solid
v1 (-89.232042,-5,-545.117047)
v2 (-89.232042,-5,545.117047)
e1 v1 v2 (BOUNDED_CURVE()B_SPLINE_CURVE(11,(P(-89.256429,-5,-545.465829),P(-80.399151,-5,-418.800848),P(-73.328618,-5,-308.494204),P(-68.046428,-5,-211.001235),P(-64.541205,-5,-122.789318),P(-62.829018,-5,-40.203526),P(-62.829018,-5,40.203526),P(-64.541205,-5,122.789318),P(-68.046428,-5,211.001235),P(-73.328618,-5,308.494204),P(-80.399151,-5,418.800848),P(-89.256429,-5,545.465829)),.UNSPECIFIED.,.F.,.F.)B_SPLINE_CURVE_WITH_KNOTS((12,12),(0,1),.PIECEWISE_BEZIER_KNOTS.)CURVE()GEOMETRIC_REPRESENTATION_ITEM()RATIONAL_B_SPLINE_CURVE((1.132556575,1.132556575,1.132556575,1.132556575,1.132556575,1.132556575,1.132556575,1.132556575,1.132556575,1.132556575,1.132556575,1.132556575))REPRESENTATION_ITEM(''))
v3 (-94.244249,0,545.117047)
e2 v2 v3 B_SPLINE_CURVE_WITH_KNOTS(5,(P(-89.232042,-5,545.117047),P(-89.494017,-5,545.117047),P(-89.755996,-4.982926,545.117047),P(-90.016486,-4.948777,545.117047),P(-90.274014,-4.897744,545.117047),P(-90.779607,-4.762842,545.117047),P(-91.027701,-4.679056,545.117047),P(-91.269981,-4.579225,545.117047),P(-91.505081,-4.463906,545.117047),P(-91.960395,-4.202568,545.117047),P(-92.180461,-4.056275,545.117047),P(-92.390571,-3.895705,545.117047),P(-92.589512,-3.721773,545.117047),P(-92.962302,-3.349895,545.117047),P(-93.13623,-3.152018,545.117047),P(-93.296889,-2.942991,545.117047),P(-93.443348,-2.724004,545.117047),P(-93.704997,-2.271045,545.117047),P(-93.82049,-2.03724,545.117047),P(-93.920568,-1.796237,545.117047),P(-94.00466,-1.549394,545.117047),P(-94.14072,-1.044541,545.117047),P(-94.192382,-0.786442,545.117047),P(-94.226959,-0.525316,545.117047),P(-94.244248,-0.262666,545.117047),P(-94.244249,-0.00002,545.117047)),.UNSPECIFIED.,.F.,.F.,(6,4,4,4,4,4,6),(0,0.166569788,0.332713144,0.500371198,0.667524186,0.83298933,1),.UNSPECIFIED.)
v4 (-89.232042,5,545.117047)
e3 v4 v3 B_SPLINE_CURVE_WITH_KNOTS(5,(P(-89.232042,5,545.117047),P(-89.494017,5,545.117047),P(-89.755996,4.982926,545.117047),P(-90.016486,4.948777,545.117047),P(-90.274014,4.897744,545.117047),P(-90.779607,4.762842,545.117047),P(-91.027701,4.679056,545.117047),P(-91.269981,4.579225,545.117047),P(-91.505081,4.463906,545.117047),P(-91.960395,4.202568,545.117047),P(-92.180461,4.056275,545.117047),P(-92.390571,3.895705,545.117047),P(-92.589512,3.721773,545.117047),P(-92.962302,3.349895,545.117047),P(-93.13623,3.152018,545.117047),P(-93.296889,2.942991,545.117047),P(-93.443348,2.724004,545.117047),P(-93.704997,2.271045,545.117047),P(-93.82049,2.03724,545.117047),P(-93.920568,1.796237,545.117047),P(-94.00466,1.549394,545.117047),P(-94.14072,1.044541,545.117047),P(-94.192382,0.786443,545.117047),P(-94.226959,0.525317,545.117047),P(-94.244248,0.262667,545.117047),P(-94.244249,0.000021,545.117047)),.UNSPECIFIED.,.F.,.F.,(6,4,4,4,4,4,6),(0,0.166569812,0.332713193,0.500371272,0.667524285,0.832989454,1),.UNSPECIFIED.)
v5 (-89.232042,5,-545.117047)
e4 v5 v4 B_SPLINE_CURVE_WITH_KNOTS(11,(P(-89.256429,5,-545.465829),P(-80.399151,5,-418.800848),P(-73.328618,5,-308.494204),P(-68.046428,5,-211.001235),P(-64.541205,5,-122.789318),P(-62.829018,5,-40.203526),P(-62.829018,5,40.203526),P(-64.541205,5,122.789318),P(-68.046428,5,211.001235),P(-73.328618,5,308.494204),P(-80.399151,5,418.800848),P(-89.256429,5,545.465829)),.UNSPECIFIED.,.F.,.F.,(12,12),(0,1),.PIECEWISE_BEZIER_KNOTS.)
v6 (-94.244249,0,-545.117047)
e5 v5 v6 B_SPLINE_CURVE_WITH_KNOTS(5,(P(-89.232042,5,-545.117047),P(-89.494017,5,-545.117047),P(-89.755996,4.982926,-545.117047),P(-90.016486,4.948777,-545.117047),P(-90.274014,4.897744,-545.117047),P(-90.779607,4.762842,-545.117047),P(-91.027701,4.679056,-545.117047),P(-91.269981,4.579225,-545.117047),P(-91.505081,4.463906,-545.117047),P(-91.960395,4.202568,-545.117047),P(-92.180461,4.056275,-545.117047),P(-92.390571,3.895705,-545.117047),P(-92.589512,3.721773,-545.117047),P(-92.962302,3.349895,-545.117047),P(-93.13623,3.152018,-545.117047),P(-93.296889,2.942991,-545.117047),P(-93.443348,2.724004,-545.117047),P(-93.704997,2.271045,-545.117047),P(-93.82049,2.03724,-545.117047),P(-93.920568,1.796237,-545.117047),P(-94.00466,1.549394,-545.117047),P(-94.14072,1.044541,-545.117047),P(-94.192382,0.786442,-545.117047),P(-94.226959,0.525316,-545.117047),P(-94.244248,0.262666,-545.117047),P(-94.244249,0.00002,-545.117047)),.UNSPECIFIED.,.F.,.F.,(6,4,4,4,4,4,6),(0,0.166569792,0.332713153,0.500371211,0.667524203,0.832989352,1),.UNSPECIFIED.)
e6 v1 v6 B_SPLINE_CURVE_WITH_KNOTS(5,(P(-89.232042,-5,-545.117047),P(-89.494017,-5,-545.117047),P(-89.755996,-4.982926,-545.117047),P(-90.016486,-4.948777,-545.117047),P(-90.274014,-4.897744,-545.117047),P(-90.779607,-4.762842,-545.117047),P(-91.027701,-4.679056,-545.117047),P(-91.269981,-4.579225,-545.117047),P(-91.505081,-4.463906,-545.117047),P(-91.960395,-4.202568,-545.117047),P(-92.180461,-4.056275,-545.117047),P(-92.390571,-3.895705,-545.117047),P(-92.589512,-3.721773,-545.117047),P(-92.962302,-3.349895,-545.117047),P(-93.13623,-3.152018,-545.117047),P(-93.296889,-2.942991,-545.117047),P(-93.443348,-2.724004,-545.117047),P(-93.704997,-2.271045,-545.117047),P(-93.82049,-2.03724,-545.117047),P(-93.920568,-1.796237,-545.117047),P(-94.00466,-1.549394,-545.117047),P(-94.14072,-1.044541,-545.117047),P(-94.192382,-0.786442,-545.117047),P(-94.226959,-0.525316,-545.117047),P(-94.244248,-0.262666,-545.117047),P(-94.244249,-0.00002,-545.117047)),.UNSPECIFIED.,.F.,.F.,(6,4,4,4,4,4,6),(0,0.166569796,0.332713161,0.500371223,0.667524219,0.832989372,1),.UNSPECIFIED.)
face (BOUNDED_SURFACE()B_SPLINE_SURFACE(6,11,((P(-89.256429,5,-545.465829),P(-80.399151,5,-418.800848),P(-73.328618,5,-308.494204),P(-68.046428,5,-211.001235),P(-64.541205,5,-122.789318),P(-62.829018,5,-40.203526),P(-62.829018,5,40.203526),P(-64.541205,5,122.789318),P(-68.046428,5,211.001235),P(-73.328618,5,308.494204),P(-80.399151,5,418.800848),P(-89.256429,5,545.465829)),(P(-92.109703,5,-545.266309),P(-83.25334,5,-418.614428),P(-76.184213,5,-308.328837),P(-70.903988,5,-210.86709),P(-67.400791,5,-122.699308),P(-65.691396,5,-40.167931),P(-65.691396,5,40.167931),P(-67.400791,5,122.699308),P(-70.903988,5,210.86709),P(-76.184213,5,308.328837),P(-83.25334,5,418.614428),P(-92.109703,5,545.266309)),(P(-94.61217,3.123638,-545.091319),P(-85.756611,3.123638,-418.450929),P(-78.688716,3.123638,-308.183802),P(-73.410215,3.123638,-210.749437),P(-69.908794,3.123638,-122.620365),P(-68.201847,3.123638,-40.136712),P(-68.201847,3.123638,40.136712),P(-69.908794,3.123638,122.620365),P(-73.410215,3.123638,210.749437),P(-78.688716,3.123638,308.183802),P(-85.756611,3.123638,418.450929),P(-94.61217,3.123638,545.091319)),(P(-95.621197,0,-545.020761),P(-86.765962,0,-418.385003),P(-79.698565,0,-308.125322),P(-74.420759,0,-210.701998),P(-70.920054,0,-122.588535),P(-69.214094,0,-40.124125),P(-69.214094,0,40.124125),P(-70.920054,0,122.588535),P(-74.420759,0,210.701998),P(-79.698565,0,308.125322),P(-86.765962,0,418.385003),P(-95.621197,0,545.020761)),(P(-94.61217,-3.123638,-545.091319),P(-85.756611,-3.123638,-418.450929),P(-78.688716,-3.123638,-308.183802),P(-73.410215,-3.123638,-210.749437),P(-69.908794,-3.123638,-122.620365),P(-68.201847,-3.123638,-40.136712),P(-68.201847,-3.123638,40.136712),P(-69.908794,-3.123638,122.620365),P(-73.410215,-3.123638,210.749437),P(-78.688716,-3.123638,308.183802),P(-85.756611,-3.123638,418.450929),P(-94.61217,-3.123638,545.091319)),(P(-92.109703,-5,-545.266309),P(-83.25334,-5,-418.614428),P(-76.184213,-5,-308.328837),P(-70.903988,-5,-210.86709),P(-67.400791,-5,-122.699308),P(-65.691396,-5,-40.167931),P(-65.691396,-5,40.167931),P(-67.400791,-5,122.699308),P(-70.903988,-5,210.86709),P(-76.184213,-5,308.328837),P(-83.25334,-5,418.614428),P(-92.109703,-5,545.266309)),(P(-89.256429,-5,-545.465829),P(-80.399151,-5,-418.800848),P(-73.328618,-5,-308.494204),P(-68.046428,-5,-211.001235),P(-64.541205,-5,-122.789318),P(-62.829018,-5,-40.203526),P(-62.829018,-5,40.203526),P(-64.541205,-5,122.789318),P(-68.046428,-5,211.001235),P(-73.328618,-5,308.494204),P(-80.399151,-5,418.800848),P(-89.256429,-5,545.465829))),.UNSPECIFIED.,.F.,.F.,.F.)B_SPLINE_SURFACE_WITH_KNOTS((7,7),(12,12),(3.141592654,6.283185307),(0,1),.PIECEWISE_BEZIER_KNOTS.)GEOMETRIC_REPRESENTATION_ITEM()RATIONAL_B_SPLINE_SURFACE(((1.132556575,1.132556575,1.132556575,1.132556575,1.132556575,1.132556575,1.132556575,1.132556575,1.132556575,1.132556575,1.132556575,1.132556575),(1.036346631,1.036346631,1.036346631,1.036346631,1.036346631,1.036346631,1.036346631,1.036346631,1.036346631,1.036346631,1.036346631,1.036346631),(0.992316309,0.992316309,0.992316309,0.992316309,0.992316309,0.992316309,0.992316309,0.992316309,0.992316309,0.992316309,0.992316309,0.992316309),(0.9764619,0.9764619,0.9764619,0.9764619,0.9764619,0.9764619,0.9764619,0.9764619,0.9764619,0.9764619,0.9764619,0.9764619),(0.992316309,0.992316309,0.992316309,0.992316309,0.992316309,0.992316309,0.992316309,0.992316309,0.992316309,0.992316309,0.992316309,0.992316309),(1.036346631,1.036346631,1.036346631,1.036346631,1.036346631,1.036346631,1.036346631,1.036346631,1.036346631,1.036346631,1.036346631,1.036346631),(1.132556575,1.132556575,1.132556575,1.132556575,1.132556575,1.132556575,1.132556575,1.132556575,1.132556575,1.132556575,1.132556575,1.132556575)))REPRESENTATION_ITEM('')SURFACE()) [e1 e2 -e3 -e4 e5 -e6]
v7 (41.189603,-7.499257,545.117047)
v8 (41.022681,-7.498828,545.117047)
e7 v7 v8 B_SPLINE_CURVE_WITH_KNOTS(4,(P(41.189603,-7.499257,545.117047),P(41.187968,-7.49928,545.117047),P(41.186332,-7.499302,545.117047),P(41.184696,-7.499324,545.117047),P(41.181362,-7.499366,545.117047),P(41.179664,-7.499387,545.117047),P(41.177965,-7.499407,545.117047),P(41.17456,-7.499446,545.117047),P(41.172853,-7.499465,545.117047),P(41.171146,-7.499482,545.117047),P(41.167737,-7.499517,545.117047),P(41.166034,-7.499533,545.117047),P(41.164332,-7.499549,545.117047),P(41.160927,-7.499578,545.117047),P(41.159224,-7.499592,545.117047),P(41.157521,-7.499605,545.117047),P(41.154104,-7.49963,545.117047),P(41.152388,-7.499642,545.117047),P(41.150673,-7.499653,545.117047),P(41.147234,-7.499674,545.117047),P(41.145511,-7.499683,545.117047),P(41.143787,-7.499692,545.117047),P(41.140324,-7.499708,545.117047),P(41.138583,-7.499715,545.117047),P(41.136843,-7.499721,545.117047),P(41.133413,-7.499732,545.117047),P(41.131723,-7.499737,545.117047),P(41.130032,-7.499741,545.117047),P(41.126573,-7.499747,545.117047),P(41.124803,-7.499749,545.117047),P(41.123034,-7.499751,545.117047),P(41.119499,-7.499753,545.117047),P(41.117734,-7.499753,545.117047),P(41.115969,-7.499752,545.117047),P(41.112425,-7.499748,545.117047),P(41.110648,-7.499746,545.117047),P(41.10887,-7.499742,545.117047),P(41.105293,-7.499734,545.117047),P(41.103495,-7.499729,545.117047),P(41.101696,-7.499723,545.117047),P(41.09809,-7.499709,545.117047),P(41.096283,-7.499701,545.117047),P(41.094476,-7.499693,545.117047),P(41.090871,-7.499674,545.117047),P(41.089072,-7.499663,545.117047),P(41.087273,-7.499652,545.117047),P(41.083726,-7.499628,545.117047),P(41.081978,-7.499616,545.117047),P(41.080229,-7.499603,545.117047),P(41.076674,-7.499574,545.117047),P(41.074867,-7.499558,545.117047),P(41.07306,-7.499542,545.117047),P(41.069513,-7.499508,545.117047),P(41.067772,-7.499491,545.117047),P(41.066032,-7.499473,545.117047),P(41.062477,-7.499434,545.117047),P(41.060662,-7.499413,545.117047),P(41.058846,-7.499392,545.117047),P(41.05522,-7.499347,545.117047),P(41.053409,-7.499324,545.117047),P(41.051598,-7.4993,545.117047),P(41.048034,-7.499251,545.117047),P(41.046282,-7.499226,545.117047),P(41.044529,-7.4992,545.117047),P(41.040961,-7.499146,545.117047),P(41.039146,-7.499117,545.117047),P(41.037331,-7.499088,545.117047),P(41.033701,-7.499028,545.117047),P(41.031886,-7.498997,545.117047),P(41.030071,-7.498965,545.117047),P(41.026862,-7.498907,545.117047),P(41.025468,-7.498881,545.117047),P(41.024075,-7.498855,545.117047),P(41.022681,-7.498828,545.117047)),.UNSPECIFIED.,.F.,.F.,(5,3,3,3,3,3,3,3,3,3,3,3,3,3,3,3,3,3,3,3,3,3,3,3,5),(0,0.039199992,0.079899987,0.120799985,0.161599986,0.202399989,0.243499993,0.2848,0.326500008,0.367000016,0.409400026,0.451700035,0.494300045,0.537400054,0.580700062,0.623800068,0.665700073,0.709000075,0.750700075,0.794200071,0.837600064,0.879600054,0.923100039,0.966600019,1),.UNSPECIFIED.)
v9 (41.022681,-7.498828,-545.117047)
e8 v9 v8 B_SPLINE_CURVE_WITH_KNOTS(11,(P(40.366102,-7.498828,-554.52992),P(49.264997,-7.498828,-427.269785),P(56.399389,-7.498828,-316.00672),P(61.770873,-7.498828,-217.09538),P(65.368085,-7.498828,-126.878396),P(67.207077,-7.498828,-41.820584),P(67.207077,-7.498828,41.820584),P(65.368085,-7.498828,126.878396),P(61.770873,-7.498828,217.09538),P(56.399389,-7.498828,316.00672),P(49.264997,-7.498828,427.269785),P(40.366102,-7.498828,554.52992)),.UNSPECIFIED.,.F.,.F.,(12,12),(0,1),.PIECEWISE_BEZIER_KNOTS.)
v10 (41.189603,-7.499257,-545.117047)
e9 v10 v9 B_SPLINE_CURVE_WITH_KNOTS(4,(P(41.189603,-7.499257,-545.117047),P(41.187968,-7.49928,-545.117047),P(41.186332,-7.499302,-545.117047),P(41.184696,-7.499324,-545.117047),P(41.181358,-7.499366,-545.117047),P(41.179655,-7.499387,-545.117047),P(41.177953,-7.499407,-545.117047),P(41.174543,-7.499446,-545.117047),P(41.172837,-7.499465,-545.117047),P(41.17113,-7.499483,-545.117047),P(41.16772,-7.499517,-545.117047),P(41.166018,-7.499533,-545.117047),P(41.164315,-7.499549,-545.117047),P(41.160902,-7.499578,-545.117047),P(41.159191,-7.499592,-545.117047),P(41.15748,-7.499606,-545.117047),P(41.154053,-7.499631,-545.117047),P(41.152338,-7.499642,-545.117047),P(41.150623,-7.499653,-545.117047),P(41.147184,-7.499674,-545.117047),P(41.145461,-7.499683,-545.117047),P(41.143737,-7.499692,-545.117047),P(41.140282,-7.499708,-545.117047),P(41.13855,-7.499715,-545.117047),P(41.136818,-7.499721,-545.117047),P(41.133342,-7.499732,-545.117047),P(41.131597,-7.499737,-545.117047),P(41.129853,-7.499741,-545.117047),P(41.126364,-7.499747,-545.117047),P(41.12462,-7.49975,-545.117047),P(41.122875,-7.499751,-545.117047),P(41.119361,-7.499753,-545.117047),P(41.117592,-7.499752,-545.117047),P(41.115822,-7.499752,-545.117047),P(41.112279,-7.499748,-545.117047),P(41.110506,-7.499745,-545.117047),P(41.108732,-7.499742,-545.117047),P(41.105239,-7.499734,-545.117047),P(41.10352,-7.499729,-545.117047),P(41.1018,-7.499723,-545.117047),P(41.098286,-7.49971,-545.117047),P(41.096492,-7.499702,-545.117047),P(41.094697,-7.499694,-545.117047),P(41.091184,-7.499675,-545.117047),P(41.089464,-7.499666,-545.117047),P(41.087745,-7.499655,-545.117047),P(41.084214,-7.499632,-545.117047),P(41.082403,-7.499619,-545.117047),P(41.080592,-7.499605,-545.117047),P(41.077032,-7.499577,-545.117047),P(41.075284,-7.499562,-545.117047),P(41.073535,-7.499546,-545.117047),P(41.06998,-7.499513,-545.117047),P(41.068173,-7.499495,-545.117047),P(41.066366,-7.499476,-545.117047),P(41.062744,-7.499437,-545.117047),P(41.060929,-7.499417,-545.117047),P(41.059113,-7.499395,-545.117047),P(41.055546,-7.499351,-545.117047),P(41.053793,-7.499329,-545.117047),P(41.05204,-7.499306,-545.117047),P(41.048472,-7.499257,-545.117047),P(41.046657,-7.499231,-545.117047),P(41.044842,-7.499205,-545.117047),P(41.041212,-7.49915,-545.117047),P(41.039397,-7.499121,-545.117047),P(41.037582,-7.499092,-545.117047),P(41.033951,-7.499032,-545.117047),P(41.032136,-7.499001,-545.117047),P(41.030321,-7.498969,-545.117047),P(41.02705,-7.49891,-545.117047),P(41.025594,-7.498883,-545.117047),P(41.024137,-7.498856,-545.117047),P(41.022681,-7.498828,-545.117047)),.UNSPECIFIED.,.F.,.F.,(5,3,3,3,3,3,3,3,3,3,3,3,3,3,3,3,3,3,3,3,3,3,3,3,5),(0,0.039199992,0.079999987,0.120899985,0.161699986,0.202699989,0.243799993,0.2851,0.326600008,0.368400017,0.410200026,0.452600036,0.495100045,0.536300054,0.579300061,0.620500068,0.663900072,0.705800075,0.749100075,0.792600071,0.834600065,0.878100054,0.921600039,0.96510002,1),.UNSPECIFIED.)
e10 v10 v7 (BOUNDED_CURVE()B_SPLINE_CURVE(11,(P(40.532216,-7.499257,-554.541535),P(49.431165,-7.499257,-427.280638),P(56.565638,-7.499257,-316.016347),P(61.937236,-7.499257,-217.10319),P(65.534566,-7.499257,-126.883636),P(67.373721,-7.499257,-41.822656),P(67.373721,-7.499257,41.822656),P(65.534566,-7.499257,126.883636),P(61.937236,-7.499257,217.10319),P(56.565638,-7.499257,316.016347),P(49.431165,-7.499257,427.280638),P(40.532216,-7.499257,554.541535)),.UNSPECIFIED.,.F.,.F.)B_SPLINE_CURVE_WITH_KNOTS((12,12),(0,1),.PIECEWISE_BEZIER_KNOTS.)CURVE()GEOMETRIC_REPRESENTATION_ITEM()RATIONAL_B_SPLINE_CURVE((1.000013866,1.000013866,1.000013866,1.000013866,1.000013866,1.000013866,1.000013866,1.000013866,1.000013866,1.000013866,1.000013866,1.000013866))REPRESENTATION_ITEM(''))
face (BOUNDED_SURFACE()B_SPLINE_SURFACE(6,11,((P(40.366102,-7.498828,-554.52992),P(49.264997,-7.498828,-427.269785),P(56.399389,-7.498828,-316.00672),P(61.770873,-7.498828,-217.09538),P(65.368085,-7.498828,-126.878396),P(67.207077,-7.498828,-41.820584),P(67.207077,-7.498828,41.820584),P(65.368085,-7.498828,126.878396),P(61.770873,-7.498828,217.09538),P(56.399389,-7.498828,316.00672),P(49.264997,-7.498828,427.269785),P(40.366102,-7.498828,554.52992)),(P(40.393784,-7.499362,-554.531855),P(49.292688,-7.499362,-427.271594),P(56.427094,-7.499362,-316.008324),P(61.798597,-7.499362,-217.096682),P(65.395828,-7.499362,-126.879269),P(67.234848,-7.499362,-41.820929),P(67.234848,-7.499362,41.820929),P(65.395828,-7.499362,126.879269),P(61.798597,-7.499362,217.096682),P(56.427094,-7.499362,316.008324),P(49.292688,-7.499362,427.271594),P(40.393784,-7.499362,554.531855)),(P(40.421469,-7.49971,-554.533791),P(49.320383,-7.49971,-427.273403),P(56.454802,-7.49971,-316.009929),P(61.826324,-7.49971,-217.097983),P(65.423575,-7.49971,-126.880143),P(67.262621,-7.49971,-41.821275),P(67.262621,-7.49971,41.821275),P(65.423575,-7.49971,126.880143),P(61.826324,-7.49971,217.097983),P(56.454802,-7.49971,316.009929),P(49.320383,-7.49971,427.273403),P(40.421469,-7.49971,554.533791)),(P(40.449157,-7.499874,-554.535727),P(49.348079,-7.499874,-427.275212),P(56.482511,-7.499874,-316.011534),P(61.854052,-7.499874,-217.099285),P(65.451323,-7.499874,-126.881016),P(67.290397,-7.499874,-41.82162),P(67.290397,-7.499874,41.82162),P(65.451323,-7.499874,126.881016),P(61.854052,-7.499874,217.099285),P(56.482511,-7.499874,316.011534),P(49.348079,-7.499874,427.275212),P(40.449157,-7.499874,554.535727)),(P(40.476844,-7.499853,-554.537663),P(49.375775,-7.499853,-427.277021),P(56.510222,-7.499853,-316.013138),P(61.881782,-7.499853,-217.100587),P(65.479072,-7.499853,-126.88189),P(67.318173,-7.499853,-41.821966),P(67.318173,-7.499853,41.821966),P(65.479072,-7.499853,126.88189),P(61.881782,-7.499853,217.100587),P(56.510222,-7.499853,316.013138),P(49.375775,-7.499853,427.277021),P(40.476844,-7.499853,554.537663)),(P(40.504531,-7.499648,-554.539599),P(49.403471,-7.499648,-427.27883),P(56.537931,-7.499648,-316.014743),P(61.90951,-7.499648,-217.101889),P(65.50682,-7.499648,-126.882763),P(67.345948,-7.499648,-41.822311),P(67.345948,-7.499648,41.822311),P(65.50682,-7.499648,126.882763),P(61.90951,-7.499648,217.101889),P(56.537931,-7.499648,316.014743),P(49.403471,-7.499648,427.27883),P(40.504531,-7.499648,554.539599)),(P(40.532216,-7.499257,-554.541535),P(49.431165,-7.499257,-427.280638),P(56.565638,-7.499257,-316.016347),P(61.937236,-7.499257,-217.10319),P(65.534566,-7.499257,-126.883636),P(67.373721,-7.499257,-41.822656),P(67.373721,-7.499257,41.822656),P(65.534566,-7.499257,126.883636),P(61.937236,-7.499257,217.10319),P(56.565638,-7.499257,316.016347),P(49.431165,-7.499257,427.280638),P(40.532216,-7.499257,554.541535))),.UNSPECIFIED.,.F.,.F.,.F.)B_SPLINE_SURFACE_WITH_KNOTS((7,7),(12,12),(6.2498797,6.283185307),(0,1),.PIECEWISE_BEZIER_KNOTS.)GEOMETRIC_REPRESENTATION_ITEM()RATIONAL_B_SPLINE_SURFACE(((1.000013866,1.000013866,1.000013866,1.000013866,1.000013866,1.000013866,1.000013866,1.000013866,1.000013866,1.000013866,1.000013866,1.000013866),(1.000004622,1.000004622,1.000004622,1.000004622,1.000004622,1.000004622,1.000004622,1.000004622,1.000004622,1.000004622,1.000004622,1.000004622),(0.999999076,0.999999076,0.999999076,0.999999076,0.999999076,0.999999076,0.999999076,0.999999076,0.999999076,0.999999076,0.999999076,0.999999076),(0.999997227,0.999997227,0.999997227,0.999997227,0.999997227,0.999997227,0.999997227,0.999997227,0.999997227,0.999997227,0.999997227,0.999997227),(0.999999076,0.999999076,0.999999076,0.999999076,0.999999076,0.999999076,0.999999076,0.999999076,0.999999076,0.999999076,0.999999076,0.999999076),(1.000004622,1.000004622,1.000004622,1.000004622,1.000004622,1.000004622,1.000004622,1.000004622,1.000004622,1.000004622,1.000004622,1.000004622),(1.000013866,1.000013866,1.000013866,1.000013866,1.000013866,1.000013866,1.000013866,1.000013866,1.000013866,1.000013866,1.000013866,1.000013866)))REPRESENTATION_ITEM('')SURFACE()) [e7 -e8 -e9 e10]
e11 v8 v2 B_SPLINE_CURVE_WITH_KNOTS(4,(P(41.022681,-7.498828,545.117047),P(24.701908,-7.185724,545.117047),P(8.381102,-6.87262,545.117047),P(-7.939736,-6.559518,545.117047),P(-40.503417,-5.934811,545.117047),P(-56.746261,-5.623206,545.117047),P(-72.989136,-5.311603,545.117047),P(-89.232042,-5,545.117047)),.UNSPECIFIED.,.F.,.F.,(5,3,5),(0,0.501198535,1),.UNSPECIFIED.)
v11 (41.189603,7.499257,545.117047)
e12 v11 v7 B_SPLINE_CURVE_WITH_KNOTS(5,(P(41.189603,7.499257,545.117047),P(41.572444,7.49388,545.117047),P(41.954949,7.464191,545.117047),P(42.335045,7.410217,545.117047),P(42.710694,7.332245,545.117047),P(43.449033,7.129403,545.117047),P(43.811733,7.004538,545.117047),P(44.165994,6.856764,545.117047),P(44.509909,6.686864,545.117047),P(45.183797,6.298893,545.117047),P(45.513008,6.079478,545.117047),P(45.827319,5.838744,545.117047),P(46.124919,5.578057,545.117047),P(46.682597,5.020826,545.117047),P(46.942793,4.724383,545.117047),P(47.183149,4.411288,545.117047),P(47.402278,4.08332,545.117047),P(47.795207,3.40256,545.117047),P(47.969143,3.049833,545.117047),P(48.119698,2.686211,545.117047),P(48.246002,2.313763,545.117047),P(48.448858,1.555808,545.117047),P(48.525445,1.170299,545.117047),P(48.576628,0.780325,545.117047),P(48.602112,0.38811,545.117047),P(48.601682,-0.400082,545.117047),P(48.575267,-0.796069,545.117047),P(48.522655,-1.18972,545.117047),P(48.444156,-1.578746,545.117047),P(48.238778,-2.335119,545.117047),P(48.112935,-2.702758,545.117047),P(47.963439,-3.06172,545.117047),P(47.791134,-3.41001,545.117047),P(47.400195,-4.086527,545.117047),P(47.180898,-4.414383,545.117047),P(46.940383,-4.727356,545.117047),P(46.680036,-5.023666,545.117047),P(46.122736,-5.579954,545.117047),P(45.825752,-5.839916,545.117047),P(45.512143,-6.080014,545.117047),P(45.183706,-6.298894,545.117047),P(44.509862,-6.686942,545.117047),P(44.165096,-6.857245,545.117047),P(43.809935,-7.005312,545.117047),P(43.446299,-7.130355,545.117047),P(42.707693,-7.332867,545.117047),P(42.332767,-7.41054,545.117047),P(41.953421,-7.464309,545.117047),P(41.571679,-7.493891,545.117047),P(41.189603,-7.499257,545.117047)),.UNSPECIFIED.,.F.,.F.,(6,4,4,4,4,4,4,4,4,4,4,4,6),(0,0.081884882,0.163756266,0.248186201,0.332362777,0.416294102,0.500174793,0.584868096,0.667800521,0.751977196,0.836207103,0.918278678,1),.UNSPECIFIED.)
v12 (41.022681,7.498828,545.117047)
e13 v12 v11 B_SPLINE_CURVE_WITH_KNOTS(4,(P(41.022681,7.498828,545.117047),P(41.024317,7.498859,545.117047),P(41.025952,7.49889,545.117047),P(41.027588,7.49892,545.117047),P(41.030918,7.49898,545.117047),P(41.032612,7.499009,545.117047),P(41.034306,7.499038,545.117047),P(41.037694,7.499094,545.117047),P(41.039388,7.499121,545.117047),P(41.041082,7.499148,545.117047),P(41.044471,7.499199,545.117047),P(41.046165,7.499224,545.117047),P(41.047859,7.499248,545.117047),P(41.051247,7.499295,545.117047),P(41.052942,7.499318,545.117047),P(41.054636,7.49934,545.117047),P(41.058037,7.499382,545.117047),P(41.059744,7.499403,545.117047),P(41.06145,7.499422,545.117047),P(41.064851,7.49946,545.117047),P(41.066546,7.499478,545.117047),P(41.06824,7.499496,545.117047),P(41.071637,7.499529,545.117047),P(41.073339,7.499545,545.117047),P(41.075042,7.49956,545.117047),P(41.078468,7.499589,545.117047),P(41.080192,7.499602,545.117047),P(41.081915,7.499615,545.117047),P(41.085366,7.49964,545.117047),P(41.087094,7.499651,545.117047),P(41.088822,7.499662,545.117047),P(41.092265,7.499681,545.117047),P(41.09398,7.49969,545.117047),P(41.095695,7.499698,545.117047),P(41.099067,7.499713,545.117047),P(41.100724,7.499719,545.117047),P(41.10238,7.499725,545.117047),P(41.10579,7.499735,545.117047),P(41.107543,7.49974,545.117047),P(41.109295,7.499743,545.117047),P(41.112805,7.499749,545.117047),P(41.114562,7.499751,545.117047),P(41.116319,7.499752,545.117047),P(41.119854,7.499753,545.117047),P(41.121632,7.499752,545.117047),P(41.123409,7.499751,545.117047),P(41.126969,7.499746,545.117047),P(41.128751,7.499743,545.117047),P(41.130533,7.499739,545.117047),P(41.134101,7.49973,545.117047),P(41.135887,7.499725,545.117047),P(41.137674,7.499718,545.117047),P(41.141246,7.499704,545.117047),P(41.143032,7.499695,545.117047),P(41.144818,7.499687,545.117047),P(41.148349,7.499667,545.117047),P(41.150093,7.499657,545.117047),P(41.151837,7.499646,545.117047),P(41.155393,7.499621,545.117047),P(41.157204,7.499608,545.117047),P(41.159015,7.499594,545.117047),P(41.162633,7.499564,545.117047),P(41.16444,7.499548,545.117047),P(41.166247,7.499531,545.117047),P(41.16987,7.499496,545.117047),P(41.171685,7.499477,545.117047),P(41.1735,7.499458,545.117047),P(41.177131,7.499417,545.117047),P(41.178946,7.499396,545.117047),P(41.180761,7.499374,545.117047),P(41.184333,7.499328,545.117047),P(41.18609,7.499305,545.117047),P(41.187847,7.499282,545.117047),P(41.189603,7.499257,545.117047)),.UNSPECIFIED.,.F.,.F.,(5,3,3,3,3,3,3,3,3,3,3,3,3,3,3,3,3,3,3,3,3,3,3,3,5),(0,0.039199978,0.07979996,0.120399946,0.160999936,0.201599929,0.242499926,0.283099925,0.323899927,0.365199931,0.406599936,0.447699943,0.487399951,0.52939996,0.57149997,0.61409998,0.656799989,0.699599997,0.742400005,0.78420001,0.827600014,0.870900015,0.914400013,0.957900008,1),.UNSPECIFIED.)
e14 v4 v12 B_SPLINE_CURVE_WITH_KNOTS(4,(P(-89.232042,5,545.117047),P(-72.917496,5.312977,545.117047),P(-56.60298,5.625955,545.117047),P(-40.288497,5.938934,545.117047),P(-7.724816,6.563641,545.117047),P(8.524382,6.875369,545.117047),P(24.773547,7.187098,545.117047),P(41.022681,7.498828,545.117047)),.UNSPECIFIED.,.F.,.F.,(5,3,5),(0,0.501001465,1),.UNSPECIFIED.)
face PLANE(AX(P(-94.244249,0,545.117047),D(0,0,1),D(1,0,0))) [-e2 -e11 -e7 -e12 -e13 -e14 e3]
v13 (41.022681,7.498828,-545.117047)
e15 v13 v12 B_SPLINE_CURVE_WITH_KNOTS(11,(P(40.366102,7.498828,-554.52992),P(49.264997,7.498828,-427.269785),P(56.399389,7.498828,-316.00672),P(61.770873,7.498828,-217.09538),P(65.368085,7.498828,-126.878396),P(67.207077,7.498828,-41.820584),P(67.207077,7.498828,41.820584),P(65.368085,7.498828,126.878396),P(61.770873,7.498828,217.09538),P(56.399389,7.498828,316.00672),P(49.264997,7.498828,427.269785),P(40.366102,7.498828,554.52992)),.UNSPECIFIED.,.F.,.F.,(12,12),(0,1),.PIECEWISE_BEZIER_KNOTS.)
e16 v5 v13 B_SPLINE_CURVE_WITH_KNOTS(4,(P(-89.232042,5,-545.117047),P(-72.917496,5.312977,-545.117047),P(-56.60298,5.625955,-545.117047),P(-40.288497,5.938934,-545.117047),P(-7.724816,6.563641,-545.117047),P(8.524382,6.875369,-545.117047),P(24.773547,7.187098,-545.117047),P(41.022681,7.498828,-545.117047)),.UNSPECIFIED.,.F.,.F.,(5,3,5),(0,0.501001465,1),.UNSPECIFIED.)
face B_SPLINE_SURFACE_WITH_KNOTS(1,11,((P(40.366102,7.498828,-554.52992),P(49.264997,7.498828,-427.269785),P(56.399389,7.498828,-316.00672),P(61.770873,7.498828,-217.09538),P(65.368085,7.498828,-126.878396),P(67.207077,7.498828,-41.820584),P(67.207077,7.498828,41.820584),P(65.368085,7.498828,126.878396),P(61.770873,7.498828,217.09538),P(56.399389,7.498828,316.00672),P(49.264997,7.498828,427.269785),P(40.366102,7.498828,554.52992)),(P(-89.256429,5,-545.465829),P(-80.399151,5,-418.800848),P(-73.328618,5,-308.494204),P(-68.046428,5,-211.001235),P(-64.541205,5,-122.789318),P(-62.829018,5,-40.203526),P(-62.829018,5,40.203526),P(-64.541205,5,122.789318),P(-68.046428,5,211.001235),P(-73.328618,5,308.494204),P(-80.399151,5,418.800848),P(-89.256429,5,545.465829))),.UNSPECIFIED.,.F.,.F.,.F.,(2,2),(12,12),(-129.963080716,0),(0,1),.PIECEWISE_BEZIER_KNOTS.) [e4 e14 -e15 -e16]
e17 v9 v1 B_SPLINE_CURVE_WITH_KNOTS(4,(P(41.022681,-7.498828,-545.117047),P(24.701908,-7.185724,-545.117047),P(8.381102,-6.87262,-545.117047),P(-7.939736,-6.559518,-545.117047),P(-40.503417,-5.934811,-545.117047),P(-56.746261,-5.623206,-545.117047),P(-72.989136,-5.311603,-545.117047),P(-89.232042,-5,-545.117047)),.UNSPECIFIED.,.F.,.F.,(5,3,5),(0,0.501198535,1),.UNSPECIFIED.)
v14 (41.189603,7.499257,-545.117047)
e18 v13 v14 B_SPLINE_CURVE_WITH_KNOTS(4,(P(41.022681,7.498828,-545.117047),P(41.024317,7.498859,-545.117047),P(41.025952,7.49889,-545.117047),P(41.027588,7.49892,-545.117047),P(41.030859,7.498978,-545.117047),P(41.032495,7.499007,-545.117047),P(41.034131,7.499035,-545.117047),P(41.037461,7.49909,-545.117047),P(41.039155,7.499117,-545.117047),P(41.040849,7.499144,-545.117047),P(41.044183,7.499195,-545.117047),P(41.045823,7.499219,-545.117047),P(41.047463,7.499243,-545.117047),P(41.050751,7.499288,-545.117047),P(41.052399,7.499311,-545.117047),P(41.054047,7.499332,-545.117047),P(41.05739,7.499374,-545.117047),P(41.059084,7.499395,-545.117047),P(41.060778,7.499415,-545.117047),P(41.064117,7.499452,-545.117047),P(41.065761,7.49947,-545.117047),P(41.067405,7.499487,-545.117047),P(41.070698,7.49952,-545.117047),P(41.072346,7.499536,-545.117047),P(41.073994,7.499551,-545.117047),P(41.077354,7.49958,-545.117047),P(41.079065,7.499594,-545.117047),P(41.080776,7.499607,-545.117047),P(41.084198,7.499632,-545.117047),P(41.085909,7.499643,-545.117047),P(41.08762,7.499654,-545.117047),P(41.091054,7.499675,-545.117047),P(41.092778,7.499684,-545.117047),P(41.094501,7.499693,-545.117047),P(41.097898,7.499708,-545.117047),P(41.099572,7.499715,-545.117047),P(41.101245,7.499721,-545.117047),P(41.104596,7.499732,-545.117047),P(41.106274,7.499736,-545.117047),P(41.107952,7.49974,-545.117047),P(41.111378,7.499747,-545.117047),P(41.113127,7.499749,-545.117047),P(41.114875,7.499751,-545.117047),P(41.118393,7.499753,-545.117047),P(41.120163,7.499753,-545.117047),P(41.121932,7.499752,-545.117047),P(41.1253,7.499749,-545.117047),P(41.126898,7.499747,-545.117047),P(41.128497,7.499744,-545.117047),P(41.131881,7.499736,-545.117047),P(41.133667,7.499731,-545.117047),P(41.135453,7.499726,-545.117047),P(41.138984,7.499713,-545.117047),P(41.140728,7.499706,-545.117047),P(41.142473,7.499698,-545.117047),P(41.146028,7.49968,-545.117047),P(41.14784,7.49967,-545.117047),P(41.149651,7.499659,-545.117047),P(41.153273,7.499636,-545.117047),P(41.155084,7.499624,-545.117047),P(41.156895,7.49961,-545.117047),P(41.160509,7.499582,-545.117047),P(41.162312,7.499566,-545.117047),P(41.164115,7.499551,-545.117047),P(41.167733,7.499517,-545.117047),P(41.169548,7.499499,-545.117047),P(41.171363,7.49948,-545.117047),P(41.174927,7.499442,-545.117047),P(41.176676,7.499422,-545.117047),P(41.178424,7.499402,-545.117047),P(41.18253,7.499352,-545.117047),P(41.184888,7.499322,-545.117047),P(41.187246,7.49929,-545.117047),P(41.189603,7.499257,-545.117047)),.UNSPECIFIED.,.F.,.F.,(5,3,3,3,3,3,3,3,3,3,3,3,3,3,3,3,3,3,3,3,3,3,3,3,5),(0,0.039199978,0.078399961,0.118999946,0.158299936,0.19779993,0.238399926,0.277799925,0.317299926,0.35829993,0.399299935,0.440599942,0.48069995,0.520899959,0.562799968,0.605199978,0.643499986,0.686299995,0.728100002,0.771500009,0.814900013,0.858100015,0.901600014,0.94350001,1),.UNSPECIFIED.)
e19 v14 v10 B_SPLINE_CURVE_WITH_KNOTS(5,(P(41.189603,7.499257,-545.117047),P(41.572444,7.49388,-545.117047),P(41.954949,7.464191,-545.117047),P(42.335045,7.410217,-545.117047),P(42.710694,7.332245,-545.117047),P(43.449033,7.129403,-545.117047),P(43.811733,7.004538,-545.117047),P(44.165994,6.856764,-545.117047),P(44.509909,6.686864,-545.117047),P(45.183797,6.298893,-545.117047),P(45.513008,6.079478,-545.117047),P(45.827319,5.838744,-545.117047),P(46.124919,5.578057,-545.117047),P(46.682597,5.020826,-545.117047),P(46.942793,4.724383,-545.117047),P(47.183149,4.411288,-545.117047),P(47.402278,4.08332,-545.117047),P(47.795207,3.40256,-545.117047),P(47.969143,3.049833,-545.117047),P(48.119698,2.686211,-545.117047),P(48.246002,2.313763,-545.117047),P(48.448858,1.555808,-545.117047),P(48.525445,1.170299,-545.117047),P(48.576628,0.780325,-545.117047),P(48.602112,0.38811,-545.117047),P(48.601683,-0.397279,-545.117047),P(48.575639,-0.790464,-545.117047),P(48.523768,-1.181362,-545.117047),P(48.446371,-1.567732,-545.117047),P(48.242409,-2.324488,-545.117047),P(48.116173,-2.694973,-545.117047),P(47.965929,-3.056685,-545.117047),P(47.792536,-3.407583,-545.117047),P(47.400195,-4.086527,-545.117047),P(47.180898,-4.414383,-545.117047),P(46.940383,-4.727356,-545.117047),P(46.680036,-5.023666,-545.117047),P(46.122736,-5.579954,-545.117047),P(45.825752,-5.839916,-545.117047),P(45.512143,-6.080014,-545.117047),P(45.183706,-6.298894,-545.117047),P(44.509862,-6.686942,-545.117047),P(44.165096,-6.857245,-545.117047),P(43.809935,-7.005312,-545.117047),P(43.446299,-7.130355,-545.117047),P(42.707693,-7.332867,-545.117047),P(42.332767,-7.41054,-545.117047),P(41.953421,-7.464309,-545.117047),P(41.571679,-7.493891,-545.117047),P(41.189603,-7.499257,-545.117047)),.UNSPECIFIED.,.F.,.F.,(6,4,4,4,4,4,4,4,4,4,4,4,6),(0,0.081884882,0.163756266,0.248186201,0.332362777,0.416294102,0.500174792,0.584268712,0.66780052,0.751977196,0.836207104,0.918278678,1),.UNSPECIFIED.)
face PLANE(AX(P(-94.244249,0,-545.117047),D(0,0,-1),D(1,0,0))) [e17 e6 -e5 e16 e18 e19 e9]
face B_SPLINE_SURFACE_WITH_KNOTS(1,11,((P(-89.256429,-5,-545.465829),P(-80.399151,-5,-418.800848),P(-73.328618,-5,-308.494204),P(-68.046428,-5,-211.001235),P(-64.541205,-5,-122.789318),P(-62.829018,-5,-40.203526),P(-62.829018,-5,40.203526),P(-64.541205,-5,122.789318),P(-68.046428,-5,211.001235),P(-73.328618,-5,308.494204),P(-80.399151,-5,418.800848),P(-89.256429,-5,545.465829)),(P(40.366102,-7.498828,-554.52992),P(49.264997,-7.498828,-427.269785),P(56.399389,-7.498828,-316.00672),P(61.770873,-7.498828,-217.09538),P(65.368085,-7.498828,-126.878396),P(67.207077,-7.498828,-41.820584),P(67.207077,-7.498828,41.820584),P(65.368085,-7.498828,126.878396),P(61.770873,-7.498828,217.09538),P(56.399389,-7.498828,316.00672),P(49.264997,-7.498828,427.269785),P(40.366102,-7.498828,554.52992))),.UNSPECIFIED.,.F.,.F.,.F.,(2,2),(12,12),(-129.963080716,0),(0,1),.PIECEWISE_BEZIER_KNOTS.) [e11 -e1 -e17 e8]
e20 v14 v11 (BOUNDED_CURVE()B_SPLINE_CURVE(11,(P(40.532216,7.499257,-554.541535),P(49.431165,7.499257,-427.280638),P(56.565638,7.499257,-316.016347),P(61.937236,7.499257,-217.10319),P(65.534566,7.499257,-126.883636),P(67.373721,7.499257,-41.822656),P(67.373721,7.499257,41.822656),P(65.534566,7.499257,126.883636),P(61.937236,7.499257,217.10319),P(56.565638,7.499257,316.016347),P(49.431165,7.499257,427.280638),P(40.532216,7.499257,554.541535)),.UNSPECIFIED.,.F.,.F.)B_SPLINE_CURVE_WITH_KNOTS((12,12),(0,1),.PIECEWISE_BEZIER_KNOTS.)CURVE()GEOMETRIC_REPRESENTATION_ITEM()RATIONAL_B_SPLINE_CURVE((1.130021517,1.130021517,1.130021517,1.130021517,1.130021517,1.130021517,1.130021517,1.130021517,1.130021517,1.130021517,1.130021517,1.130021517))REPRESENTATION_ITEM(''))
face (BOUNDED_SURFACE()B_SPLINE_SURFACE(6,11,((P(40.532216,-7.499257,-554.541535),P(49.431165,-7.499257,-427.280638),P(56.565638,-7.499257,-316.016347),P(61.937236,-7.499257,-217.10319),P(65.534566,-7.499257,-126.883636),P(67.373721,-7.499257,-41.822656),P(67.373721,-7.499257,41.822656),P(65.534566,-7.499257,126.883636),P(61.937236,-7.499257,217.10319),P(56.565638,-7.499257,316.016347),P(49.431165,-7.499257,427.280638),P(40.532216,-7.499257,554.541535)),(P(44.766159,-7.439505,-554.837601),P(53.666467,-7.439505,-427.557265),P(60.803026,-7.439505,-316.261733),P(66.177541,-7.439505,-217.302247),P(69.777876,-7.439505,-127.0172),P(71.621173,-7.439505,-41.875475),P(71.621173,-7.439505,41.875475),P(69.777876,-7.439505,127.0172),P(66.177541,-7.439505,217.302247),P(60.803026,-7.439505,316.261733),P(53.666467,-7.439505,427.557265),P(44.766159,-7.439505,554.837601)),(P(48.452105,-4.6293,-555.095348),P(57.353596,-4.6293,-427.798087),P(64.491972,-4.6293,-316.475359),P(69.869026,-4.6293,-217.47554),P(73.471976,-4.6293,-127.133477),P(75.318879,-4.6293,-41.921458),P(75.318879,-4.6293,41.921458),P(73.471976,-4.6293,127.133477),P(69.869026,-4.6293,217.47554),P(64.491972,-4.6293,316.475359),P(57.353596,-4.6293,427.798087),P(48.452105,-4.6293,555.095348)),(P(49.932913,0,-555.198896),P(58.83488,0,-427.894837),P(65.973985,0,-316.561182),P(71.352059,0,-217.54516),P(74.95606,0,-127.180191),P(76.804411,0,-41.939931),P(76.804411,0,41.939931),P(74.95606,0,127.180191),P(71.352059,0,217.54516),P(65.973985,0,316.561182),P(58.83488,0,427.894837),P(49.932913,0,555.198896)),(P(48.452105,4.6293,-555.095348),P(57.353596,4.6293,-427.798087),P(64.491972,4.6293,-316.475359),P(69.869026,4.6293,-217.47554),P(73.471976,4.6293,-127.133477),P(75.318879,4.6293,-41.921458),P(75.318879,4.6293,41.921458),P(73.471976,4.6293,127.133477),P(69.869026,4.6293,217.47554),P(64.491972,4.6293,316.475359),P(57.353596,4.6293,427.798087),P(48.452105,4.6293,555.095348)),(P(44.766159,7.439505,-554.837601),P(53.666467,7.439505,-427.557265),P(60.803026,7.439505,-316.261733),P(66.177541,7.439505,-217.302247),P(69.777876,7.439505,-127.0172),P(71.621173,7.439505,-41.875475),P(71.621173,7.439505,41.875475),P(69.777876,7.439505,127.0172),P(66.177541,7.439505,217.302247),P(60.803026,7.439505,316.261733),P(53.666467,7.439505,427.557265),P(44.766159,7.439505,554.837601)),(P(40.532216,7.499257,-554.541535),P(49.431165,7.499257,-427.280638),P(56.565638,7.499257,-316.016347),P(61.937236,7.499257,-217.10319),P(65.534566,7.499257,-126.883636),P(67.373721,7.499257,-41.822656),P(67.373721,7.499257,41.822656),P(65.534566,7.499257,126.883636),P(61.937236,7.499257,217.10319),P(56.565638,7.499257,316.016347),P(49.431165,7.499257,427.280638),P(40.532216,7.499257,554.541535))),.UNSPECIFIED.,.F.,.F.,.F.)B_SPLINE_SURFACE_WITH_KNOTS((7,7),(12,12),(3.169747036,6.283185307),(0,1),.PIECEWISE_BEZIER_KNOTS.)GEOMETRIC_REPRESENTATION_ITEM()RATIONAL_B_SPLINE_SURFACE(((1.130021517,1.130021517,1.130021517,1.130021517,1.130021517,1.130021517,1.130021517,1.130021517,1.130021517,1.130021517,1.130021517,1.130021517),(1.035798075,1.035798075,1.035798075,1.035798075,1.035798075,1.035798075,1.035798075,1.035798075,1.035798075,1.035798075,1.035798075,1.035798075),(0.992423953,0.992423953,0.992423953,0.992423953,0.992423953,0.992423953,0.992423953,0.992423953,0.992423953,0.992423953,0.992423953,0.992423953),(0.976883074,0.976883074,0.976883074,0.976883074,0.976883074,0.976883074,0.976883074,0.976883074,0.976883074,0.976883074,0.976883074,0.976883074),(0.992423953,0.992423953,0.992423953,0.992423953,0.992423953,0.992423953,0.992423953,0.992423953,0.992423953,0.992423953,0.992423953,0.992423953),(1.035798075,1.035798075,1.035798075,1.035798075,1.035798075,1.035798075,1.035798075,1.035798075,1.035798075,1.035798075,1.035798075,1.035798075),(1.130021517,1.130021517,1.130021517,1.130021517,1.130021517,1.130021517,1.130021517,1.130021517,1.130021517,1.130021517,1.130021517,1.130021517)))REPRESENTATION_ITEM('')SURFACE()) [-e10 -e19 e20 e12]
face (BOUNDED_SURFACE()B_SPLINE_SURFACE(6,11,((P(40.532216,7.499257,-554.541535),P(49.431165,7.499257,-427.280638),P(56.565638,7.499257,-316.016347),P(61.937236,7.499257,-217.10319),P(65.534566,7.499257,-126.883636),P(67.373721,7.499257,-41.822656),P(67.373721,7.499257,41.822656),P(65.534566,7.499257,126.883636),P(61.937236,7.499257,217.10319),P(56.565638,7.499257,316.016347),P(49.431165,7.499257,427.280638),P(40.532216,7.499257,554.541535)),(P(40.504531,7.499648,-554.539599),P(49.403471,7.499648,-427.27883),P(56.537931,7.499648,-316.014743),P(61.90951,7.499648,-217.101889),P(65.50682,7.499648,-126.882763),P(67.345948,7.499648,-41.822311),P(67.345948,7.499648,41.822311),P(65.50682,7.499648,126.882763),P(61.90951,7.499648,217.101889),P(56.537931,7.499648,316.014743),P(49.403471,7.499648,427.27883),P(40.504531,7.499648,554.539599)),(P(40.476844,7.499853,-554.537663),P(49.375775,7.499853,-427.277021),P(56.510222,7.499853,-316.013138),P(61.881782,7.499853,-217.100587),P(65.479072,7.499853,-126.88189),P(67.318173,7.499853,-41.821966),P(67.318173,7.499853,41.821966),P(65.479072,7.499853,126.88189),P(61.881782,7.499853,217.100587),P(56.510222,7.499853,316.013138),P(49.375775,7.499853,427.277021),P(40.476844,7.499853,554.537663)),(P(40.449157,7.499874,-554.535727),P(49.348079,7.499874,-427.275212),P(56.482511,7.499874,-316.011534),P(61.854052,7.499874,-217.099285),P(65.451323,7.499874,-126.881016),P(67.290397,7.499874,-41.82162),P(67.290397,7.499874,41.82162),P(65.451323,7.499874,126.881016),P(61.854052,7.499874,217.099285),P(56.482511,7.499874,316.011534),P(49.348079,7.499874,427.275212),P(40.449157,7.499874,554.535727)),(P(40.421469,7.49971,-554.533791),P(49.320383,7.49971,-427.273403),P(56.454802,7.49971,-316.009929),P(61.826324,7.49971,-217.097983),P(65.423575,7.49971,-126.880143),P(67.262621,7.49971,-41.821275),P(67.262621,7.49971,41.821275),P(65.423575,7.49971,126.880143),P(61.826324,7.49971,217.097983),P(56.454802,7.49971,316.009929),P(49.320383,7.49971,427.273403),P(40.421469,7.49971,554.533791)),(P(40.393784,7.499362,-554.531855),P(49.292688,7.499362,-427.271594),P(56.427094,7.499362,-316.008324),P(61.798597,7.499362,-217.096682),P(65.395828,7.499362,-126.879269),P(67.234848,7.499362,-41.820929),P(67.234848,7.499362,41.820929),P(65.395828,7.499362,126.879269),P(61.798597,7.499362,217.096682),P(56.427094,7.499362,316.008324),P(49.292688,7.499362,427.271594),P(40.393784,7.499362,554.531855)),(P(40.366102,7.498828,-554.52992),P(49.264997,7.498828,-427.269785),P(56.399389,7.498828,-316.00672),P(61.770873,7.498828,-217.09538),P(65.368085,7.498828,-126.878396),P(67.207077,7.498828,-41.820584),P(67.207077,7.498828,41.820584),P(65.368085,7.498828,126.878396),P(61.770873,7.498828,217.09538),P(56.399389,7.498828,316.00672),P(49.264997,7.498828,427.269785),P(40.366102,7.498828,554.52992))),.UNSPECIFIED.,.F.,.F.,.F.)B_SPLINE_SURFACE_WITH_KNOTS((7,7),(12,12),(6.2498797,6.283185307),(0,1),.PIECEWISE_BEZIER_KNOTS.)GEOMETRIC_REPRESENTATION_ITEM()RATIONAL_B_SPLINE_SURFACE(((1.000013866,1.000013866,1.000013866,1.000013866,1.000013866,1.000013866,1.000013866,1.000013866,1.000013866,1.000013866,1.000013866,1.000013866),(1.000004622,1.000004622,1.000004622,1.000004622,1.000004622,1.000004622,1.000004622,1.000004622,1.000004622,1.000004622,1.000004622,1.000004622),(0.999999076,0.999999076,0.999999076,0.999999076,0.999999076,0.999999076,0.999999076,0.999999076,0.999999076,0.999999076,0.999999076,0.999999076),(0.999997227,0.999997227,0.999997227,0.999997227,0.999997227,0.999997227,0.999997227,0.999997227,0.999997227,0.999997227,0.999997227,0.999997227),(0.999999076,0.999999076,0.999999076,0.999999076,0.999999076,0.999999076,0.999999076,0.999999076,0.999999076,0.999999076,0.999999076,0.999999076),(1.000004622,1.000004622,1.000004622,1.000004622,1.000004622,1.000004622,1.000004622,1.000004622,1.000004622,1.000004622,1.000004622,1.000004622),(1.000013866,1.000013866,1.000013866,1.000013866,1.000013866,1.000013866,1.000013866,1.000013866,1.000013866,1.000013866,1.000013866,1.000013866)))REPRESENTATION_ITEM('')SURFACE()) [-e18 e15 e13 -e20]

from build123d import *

# Parameters (mm, degrees)
SKETCH3_W          = 147.197168892
SKETCH3_H          = 17.539277342
SKETCH3_W_2        = 144.574061536
SKETCH3_H_2        = 20.253471686
CUT_EXTRUDE1_DEPTH = 35


with BuildPart() as part:
    # Sweep2: sweep along a path in Sketch2
    with BuildLine() as sweep2_path:  # in the path sketch's own coordinates; laid on its plane below (add() does not lay a ready-made edge on the line's plane)
        add(Edge.make_bspline(
            [(-24.41476581, 550), (8.13825527, 84.470109879), (8.13825527, -84.470109879), (-24.41476581, -550)],
            knots=[0, 0, 0, 0, 1, 1, 1, 1], degree=3))
    # Sketch1 → Sweep2 (sweep)
    with BuildSketch(Plane.XY):
        with BuildLine():
            Line((-65, 5), (64.939055745, 7.498827995))
            ThreePointArc((64.939055745, 7.498827995), (65.022313811, 7.499735711), (65.105575448, 7.499256885))
            ThreePointArc((65.105575448, 7.499256885), (72.5, 0), (65.105575448, -7.499256885))
            ThreePointArc((65.105575448, -7.499256885), (65.022313811, -7.499735711), (64.939055745, -7.498827995))
            Line((64.939055745, -7.498827995), (-65, -5))
            ThreePointArc((-65, -5), (-70, 0), (-65, 5))
        make_face()
    sweep(path=Plane(origin=(0, 0, 0), x_dir=(1, 0, 0), z_dir=(0, 1, 0)) * sweep2_path.line)

    # Sketch3 → Cut-Extrude1 (cut, symmetric)
    with BuildSketch(Plane(origin=(0, 0, 0), x_dir=(1, 0, 0), z_dir=(0, 1, 0))):
        with Locations((-20.645664883, 553.886685509)):
            Rectangle(SKETCH3_W, SKETCH3_H)
        with Locations((-21.957218561, -555.243782681)):
            Rectangle(SKETCH3_W_2, SKETCH3_H_2)
    extrude(amount=CUT_EXTRUDE1_DEPTH, both=True, mode=Mode.SUBTRACT)


solid = part.part
